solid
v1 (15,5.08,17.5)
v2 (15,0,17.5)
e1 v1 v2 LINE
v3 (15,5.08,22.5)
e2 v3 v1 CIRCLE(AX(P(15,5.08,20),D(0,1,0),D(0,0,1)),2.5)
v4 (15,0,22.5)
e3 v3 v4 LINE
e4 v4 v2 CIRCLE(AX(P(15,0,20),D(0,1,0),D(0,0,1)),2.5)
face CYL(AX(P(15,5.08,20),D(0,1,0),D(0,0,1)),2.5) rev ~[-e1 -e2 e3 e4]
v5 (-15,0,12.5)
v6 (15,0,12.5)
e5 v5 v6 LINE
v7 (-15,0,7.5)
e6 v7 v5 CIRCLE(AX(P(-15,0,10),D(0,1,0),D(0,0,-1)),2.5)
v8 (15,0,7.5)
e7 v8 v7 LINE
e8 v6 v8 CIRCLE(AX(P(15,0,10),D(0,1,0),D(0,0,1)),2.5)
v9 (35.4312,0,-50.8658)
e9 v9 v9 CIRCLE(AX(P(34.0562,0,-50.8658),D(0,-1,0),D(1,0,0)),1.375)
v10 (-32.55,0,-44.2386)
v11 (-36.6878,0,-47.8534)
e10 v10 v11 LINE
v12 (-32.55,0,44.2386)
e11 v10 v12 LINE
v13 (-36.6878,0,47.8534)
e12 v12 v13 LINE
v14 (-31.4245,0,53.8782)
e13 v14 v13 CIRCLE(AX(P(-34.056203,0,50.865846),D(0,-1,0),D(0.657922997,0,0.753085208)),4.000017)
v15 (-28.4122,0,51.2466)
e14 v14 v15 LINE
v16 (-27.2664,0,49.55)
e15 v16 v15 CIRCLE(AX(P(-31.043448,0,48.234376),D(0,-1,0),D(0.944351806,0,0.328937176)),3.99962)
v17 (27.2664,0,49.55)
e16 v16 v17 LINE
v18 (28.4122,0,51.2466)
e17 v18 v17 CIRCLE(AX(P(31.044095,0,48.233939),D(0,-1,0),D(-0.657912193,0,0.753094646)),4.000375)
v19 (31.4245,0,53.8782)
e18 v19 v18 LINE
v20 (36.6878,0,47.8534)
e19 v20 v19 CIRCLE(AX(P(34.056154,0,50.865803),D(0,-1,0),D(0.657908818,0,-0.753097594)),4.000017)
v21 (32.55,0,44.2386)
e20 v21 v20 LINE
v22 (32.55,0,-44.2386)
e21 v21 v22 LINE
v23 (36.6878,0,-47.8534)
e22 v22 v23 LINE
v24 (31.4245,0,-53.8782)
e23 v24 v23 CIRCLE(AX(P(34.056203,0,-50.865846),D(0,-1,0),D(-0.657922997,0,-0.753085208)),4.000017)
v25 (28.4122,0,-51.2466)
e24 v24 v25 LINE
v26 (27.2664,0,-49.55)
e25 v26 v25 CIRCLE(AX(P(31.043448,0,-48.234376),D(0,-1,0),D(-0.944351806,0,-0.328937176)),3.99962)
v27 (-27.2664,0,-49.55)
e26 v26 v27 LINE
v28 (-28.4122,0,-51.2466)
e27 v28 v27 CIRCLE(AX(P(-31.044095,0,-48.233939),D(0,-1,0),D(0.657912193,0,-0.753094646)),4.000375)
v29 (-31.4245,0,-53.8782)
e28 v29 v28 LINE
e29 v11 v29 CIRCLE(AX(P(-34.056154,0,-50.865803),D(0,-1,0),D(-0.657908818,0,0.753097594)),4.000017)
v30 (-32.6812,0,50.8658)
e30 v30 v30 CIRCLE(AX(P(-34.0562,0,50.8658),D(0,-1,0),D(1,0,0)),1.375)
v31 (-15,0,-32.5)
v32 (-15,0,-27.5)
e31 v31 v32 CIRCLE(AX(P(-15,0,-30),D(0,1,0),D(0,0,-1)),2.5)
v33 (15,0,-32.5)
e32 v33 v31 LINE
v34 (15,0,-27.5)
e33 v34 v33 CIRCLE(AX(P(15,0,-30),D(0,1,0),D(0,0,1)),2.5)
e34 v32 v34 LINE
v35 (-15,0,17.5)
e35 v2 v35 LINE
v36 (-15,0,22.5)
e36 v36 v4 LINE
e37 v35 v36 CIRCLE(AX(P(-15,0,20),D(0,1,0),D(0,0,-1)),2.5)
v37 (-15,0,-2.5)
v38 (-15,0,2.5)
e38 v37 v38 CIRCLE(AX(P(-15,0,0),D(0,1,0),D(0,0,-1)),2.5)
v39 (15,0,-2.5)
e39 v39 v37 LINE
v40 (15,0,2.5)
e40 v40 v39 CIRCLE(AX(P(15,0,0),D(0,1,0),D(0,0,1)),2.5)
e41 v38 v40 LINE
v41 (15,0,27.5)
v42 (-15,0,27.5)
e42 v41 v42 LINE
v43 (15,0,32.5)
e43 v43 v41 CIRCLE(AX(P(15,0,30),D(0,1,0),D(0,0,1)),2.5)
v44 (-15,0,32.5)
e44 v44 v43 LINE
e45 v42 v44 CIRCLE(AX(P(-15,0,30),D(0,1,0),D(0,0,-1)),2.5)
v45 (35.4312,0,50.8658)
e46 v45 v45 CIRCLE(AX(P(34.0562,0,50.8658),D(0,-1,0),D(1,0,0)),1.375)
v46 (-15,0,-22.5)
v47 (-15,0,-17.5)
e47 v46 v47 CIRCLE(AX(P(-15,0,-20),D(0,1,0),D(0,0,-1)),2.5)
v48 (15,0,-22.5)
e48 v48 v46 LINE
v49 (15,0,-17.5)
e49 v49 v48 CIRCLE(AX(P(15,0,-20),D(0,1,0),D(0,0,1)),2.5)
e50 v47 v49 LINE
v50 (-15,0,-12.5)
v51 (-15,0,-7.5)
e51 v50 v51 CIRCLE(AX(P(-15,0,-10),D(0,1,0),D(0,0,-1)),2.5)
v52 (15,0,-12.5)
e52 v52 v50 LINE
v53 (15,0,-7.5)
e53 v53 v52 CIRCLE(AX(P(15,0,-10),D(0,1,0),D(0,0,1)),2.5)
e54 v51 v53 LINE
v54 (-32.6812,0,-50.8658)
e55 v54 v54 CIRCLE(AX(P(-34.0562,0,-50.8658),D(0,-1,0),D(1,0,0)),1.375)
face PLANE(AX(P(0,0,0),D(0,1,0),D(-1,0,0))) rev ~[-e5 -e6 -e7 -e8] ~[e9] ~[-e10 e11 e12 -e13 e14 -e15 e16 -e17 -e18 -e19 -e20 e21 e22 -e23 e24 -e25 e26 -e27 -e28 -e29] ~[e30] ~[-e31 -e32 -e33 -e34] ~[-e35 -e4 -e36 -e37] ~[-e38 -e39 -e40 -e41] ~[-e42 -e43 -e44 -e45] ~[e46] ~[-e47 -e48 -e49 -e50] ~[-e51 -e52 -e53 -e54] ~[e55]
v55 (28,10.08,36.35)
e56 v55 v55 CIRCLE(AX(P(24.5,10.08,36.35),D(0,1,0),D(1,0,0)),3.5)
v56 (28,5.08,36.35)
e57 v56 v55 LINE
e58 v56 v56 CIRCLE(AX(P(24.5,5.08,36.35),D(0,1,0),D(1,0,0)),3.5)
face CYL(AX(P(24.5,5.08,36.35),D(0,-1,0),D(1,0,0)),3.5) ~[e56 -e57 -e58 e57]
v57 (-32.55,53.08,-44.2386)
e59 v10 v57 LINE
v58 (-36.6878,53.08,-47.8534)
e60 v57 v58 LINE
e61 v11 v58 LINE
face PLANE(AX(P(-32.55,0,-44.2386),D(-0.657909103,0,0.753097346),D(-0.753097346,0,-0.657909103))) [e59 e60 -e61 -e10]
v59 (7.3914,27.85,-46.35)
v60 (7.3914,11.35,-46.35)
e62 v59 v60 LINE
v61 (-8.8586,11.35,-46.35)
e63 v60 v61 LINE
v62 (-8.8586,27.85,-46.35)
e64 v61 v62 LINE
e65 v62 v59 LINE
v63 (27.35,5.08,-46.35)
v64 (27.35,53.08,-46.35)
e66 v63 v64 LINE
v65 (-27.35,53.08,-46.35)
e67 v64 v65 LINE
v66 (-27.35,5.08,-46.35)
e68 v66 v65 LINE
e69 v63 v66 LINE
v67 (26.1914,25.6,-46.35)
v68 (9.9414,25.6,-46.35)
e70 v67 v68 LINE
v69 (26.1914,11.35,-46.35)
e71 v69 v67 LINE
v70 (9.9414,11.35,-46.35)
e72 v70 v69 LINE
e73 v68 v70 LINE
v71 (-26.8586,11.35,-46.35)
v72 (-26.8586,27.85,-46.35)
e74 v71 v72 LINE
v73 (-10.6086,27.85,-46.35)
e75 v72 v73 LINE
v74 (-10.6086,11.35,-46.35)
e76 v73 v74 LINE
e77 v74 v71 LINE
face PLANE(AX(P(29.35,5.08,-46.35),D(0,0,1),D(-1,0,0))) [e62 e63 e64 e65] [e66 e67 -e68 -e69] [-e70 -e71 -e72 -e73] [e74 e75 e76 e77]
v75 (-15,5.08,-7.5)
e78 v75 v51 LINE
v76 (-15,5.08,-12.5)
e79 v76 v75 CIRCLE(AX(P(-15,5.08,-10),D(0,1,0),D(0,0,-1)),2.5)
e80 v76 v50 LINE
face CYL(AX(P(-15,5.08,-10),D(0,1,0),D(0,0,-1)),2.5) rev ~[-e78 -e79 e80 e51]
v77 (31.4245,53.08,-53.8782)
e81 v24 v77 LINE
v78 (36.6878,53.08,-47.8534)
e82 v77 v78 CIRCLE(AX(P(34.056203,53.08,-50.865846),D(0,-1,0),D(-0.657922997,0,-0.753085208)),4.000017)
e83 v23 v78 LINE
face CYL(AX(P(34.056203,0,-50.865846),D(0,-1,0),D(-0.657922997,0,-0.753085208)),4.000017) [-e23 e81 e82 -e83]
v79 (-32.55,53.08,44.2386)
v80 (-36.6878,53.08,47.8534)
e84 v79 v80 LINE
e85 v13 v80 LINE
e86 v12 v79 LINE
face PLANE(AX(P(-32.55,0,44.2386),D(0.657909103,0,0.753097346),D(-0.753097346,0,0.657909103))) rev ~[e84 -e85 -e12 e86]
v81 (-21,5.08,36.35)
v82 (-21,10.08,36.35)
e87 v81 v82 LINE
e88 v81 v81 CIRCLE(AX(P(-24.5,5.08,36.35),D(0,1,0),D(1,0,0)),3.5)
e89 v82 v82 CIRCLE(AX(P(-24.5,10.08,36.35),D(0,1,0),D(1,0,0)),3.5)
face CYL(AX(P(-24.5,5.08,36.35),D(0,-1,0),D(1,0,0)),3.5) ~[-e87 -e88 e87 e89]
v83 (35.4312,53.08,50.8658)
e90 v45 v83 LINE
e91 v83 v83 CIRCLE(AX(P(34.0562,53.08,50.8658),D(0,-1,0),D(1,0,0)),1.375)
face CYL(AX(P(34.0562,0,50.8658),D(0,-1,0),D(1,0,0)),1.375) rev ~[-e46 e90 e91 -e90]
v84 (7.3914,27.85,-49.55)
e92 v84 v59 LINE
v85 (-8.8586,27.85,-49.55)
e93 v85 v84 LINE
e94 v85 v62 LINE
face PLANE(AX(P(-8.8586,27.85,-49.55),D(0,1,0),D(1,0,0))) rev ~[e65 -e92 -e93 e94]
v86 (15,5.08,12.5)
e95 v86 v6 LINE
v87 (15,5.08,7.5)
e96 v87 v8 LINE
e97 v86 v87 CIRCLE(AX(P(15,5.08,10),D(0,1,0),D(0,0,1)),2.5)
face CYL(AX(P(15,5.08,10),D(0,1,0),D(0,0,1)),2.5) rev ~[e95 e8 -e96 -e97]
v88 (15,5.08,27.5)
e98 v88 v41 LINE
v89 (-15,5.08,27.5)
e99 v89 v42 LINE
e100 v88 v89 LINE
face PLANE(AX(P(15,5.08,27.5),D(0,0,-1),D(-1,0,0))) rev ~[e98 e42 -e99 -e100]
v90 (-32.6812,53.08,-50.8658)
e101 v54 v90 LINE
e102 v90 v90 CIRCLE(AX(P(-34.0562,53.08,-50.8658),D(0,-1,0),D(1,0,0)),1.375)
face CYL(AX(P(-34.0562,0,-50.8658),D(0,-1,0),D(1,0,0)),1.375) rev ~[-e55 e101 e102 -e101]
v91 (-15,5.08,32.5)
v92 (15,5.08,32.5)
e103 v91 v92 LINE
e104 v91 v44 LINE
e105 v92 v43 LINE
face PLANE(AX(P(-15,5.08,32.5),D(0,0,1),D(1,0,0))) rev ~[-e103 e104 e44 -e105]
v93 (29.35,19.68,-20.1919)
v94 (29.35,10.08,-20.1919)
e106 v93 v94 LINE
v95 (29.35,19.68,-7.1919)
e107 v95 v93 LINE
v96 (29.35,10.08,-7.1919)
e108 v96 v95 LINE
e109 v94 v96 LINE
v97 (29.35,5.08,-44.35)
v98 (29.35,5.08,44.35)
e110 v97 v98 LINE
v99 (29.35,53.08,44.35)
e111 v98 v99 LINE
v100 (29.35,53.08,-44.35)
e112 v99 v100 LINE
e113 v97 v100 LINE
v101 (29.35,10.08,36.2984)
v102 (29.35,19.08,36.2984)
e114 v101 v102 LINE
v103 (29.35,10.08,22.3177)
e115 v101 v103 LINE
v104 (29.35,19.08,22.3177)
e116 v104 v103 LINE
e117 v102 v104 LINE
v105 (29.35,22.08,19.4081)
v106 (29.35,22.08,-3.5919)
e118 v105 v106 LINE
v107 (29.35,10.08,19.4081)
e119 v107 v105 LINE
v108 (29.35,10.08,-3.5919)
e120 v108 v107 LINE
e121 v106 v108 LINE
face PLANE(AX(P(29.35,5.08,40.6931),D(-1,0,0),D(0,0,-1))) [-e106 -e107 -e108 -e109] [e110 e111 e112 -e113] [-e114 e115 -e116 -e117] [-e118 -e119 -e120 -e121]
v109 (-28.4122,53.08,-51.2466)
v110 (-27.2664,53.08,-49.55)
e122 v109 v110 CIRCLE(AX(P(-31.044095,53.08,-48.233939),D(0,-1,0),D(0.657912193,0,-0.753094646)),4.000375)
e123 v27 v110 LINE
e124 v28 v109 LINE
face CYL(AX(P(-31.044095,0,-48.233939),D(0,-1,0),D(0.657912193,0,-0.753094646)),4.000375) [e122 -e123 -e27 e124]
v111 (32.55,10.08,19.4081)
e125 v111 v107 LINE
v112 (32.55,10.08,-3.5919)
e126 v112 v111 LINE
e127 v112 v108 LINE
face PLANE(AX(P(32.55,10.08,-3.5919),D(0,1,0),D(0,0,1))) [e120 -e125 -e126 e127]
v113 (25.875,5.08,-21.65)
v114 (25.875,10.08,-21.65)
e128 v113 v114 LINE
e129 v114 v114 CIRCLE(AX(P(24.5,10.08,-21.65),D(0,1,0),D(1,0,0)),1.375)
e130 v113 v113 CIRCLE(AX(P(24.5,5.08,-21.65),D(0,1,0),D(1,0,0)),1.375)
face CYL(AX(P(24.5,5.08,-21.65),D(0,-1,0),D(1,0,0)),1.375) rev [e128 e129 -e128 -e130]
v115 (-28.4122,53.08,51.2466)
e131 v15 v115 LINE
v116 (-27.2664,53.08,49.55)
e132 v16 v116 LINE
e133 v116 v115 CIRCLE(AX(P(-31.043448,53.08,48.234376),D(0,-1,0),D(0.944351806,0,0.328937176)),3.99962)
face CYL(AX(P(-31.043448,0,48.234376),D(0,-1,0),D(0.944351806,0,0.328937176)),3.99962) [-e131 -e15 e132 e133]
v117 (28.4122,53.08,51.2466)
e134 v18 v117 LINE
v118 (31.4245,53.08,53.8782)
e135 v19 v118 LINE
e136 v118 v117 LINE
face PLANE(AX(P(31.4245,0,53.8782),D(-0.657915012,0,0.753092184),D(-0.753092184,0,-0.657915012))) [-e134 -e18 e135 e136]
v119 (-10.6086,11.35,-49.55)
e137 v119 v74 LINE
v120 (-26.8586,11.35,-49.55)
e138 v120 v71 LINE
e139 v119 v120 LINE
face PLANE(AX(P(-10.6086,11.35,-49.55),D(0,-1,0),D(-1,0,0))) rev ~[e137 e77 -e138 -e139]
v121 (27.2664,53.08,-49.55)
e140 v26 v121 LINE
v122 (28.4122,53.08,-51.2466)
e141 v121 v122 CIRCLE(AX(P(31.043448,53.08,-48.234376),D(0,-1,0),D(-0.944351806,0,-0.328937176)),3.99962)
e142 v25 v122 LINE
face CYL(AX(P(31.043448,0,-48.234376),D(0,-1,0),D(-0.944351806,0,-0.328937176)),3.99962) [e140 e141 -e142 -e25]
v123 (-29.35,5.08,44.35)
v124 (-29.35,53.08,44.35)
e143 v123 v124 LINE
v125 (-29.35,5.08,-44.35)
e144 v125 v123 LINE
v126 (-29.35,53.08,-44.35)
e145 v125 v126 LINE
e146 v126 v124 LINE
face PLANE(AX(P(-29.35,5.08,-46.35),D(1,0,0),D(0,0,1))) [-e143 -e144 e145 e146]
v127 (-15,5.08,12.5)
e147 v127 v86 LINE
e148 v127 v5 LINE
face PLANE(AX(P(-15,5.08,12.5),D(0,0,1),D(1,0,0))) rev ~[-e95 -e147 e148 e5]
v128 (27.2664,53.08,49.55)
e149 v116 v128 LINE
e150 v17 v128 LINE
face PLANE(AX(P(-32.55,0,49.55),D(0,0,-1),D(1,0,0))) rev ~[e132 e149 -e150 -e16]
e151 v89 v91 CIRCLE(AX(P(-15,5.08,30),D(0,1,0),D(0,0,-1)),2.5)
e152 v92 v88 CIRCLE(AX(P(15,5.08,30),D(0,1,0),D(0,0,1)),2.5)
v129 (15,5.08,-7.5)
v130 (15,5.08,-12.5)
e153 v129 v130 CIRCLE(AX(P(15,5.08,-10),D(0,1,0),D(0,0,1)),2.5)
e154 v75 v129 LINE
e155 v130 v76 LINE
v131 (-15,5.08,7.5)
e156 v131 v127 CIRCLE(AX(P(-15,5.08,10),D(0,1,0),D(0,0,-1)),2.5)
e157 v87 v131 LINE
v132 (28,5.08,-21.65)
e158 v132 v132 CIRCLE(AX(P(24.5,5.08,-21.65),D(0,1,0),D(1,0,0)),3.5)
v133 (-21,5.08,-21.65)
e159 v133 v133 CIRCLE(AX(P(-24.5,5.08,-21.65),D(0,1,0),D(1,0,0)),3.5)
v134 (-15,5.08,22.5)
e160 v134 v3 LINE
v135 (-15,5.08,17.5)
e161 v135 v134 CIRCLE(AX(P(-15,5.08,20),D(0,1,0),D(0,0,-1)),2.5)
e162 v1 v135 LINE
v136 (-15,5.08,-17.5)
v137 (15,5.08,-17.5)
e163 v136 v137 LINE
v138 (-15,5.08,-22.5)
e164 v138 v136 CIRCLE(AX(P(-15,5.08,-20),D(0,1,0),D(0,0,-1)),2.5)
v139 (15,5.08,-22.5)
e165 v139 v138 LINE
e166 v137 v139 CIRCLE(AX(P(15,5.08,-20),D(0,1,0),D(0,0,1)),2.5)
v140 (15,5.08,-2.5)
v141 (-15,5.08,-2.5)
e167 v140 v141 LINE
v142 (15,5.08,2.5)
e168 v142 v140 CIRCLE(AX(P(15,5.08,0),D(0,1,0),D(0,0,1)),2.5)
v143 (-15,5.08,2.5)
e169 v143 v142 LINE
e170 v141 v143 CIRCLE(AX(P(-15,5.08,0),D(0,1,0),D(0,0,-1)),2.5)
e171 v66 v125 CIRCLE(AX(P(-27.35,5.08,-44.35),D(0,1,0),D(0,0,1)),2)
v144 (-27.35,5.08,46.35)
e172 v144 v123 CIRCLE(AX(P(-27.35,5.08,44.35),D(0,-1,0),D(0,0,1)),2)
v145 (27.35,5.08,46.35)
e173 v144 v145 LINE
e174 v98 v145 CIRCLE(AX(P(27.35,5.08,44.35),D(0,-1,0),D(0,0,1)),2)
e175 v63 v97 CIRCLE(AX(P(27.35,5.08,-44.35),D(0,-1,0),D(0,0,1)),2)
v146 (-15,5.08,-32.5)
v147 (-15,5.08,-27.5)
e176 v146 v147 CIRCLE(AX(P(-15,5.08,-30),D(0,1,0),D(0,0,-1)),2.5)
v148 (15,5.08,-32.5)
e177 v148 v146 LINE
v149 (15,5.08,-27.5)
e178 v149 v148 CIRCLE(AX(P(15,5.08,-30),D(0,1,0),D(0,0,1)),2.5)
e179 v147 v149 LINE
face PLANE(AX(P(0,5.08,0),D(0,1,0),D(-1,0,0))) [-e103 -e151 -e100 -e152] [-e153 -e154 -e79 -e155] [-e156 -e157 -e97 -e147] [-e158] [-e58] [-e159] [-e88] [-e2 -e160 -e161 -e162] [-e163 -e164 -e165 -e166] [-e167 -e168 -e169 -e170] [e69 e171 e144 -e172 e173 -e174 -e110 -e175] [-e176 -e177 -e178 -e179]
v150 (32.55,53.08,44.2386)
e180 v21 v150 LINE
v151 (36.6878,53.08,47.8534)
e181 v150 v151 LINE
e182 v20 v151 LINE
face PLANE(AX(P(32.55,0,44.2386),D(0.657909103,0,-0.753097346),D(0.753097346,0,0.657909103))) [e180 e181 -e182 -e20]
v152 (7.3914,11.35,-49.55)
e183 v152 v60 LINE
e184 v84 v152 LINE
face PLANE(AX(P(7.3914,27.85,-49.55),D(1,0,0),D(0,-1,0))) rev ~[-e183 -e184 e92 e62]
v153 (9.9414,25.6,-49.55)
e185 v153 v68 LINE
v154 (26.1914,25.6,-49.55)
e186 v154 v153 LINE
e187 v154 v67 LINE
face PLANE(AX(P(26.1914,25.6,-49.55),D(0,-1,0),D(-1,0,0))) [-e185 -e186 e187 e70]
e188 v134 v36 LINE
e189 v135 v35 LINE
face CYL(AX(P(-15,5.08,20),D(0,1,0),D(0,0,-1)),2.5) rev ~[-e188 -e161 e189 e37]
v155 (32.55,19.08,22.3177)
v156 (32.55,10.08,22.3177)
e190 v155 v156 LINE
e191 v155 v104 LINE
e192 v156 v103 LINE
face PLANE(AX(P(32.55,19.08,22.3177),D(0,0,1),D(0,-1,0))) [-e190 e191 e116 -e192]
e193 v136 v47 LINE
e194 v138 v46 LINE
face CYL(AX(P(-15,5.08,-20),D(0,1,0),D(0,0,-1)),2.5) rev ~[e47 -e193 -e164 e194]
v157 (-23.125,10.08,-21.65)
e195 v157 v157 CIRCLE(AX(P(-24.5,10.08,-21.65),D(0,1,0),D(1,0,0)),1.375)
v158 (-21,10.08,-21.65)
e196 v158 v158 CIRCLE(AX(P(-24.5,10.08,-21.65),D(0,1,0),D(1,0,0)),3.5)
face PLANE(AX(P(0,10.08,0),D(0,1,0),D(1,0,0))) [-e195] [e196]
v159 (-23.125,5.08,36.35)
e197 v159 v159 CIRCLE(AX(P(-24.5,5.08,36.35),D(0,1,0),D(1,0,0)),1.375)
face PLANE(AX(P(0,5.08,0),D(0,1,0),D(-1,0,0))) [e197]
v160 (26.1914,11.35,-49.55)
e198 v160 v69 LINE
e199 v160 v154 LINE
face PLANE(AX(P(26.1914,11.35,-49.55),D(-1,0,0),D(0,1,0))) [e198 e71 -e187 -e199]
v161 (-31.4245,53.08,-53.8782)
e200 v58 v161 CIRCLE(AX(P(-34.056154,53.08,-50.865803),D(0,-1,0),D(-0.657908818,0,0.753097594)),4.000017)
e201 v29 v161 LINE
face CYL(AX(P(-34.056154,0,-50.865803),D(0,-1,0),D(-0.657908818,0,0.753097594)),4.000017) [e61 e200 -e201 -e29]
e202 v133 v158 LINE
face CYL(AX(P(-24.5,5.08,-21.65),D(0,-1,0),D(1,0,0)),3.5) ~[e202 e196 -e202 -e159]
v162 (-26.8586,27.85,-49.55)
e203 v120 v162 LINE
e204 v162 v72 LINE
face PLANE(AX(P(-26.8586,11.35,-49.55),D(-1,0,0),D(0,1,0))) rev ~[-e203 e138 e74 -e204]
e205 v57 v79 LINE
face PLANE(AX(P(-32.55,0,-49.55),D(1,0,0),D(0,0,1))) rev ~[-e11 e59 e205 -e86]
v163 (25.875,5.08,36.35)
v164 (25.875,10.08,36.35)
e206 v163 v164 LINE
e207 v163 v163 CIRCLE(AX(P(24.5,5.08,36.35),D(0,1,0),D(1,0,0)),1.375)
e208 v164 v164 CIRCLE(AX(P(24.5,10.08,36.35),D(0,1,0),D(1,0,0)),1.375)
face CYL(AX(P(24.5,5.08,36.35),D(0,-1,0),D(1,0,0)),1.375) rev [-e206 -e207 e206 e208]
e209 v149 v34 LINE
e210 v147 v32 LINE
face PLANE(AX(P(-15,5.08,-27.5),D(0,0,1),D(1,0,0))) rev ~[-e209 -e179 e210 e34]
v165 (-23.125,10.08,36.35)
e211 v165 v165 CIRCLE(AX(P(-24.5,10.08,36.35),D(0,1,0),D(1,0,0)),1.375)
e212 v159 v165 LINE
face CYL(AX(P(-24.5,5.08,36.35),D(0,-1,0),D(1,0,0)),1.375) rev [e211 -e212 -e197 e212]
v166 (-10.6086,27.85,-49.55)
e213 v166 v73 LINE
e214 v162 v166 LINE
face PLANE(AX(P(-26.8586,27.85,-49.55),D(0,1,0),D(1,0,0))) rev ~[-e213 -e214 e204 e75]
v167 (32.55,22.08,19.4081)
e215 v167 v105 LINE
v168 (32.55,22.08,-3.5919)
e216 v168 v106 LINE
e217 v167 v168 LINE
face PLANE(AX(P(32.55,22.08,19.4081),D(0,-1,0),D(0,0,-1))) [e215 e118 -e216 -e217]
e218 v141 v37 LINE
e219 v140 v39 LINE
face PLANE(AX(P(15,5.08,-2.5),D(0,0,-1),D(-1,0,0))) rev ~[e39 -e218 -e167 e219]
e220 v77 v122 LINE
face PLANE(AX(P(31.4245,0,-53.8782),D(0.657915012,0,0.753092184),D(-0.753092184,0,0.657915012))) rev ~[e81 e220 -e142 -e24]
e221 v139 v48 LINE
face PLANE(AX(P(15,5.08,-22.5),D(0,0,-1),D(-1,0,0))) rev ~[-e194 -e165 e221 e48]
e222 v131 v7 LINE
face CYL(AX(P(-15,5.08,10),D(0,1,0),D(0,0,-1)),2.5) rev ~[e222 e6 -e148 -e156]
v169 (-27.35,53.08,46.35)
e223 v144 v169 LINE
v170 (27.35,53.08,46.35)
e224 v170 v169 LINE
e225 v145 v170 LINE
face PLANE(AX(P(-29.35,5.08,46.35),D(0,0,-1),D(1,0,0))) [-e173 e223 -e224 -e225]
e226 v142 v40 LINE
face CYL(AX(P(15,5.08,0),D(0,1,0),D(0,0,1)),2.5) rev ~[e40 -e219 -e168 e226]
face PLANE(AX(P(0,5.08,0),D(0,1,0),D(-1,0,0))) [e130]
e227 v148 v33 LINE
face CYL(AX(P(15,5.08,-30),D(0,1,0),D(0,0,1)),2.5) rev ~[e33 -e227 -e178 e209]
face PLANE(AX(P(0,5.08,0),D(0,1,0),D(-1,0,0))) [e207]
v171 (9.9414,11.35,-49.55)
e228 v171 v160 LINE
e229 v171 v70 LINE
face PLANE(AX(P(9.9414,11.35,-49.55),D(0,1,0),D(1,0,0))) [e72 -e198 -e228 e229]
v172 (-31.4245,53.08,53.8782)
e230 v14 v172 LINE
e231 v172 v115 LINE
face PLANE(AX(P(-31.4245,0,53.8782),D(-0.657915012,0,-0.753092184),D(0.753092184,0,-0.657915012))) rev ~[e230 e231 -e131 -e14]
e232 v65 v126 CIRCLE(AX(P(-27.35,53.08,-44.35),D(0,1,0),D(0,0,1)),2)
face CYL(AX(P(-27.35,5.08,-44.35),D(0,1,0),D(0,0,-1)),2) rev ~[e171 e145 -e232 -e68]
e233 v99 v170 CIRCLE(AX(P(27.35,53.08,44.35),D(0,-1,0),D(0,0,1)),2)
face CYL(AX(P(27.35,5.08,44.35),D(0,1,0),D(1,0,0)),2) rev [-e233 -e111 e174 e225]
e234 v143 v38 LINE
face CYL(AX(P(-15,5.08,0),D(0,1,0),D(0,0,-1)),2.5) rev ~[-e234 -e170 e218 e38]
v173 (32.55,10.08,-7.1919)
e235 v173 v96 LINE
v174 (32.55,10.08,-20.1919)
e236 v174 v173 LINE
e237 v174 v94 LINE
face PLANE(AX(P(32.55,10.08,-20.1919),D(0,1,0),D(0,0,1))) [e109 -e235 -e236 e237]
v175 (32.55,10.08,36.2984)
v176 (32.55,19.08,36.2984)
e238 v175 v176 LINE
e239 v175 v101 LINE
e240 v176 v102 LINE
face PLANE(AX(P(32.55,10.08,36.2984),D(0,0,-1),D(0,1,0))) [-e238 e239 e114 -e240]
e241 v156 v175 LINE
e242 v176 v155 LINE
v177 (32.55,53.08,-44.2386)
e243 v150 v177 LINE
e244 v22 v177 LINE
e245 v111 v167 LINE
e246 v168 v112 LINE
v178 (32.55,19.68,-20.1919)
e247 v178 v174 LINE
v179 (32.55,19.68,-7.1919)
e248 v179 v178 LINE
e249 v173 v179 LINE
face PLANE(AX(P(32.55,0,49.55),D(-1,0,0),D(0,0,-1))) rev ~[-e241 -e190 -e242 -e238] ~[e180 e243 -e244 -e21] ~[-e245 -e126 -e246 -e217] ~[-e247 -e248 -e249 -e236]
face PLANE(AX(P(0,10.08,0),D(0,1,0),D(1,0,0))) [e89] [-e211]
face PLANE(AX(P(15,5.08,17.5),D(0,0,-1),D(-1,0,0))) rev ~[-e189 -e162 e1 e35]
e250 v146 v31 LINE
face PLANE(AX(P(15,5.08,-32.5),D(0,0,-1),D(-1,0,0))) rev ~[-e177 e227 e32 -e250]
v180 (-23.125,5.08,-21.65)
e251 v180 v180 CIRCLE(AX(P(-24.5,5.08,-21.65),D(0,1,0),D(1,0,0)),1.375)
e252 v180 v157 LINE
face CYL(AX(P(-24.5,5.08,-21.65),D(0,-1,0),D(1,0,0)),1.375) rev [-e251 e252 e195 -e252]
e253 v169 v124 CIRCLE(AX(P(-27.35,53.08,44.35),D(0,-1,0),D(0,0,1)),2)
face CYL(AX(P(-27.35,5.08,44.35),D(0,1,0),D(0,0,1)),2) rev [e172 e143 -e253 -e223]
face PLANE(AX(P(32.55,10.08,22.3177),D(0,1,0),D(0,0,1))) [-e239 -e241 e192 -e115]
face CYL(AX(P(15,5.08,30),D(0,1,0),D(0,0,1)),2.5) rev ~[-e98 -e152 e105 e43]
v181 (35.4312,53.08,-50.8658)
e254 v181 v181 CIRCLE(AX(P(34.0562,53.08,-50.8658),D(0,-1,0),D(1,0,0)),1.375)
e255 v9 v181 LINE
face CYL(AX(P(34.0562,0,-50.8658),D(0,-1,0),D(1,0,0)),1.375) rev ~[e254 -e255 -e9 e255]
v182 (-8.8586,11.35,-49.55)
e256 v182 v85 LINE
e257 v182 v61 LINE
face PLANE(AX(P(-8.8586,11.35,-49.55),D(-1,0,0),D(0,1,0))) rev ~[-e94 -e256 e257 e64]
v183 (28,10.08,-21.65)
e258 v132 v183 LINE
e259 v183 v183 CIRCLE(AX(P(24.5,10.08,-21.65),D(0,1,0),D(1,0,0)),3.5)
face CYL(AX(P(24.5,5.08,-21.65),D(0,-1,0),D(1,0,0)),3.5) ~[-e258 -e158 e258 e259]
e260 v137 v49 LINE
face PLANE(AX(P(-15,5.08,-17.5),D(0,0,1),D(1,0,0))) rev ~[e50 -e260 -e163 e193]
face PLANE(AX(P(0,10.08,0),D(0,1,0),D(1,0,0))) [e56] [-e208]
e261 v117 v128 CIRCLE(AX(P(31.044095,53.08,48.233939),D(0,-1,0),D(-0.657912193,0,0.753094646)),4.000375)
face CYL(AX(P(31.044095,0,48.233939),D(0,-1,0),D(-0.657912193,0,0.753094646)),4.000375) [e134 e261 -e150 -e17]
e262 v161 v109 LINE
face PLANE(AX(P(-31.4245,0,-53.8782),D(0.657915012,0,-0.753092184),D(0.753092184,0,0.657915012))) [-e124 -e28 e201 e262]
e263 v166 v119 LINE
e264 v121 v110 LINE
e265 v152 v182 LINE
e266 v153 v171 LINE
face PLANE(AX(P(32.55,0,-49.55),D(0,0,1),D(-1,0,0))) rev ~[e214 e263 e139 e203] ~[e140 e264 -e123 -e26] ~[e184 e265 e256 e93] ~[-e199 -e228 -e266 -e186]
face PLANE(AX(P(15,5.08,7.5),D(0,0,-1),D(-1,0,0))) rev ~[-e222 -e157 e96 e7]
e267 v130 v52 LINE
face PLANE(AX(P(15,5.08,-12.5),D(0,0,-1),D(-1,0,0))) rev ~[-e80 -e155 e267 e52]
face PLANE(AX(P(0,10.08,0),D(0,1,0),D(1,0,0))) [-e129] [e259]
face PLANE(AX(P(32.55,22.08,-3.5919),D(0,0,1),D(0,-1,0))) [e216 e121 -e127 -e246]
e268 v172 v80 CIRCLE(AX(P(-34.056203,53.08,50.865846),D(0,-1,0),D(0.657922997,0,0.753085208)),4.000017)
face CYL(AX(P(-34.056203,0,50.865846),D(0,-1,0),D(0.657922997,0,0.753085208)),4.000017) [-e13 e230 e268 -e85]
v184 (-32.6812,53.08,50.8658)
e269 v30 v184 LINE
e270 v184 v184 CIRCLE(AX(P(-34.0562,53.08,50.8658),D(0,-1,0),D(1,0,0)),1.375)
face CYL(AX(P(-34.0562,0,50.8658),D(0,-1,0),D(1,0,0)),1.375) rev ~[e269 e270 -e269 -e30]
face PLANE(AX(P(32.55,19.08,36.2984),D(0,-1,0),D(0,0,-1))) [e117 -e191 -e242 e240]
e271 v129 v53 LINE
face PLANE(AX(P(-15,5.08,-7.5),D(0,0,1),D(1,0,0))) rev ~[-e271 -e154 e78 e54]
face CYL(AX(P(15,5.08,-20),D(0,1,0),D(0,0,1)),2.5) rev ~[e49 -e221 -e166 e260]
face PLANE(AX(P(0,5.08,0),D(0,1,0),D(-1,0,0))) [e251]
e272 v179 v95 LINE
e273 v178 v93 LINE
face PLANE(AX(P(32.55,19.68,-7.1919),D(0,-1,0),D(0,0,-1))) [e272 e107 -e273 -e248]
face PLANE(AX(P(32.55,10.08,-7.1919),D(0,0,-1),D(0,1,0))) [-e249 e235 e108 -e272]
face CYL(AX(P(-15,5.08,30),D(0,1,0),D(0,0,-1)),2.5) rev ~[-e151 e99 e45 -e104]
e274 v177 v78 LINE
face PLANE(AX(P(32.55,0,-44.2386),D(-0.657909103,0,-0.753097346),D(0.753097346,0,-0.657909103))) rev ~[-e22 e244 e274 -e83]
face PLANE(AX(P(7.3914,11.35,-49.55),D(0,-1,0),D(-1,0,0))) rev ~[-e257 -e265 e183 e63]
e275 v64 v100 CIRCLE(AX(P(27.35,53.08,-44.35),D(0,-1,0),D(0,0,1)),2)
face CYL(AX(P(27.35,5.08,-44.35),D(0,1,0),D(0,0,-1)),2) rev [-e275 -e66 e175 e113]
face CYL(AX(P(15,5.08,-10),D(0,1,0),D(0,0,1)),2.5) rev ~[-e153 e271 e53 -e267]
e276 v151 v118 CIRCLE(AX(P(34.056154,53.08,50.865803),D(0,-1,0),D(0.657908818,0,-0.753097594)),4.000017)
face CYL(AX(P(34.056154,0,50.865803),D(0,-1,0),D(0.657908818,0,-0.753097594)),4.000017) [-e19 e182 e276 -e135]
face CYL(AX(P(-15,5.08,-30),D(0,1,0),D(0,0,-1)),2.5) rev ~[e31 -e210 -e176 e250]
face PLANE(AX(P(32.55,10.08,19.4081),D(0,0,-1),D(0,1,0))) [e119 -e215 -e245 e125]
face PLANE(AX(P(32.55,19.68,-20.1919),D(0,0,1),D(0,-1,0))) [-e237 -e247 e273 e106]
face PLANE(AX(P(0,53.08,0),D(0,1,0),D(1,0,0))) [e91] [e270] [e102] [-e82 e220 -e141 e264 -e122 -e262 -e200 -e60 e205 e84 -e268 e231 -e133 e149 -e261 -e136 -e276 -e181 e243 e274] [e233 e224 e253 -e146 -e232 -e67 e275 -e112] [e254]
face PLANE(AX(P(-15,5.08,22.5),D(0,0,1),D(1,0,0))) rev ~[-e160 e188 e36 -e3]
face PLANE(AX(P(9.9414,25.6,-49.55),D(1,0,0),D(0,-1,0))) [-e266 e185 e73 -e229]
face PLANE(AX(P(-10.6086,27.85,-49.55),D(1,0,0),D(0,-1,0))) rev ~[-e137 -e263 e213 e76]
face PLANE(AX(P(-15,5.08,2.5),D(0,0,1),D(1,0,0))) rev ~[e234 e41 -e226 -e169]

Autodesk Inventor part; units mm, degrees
ref_plane "YZ Plane" through (0, 0, 0) normal (1, 0, 0) x (0, 1, 0)
ref_plane "XZ Plane" through (0, 0, 0) normal (0, 1, 0) x (-1, 0, 0)
ref_plane "XY Plane" through (0, 0, 0) normal (0, 0, 1) x (1, 0, 0)
sketch "Sketch1" plane through (0, 0, 0) normal (0, 1, 0) x (-1, 0, 0)
  line L0 (-32.55, -49.55) -> (32.55, -49.55)
  line L1 (32.55, -49.55) -> (32.55, 49.55)
  line L2 (32.55, 49.55) -> (-32.55, 49.55)
  line L3 (-32.55, 49.55) -> (-32.55, -49.55)
  line L4 (-32.55, -49.55) -> (32.55, 49.55) construction
  line L5 (32.55, -49.55) -> (-32.55, 49.55) construction
  point P0 (0, 0)
  dimension "d0" = 65.1
  dimension "d1" = 99.1
extrude "Extrusion1" add sketch "Sketch1" along normal blind 5.08
sketch "Sketch2" plane through (0, 5.08, 0) normal (0, 1, 0) x (1, 0, 0)
  line L0 (29.35, 46.35) -> (-29.35, 46.35)
  line L1 (-29.35, 46.35) -> (-29.35, -46.35)
  line L2 (-29.35, -46.35) -> (29.35, -46.35)
  line L3 (29.35, -46.35) -> (29.35, 46.35)
  line L4 (29.35, 46.35) -> (-29.35, -46.35) construction
  line L5 (-29.35, 46.35) -> (29.35, -46.35) construction
  line L6 (-32.55, 49.55) -> (-32.55, -49.55) projected
  line L7 (-32.55, -49.55) -> (32.55, -49.55) projected
  line L8 (32.55, 49.55) -> (-32.55, 49.55) projected
  line L9 (32.55, -49.55) -> (32.55, 49.55) projected
  line L10 (26.15, -43.15) -> (32.55, -49.55) construction
  line L11 (23.6931, -46.35) -> (29.7216, -52.3784)
  line L12 (35.3784, -46.7216) -> (29.35, -40.6931)
  arc A0 (29.7216, -52.3784) -> (35.3784, -46.7216) centre (32.55, -49.55) ccw
  circle A1 centre (32.55, -49.55) radius 1.375
  point P0 (0, 0)
  dimension "d4" = 3.2
  dimension "d5" = 3.2
  dimension "d22" = 8
  dimension "d23" = 2.75
extrude "Extrusion2" add sketch "Sketch2" along normal blind 48 contours L0 L1 L2 L11 L7 L6 L8 L9 L12 L3 | L12 L9 A1 L7 L11 L2 L3 | L9 L7 A1 picked at (32.448, -48.6448)
sketch "Sketch3" plane through (0, 5.08, 0) normal (0, 1, 0) x (1, 0, 0)
  line L0 (29.35, -46.35) -> (-29.35, -46.35) construction
  line L1 (0, -46.35) -> (0, 46.35) construction
  line L2 (29.35, 46.35) -> (-29.35, 46.35) construction
  circle A0 centre (-24.5, -36.35) radius 3.5
  circle A1 centre (-24.5, -36.35) radius 1.375
  line L3 (29.35, 46.35) -> (29.35, -46.35) construction
  line L4 (29.35, 0) -> (-29.35, 0) construction
  line L5 (-29.35, -46.35) -> (-29.35, 46.35) construction
  circle A2 centre (-24.5, 21.65) radius 3.5
  circle A3 centre (-24.5, 21.65) radius 1.375
  circle A4 centre (24.5, -36.35) radius 3.5
  circle A5 centre (24.5, -36.35) radius 1.375
  circle A6 centre (24.5, 21.65) radius 3.5
  circle A7 centre (24.5, 21.65) radius 1.375
  point P0 (0, 0)
  dimension "d8" = 7
  dimension "d9" = 2.75
  dimension "d10" = 10
  dimension "d11" = 24.5
  dimension "d14" = 58
extrude "Extrusion3" add sketch "Sketch3" along normal blind 5
sketch "Sketch4" plane through (0, 0, 0) normal (0, -1, 0) x (1, 0, 0)
  line L0 (31.0438, 48.2342) -> (34.0562, 50.8658) construction
  line L1 (32.55, 49.55) -> (32.55, -49.55) projected
  line L2 (32.55, 44.2386) -> (36.6878, 47.8534)
  line L3 (31.4245, 53.8782) -> (28.4122, 51.2466)
  arc A0 (28.4122, 51.2466) -> (27.2664, 49.55) centre (31.0438, 48.2342) ccw
  arc A1 (36.6878, 47.8534) -> (31.4245, 53.8782) centre (34.0562, 50.8658) ccw
  line L4 (-32.55, 49.55) -> (32.55, 49.55) projected
  line L5 (27.2664, 49.55) -> (32.55, 49.55)
  line L6 (32.55, 49.55) -> (32.55, 44.2386)
  circle A2 centre (34.0562, 50.8658) radius 1.375
  line L7 (0, 49.55) -> (0, -49.55) construction
  line L8 (32.55, -49.55) -> (-32.55, -49.55) construction
  line L9 (32.55, 0) -> (-33.3, 0) construction
  line L10 (32.55, -49.55) -> (32.55, 49.55)
  line L11 (32.55, -44.2386) -> (36.6878, -47.8534)
  line L12 (31.4245, -53.8782) -> (28.4122, -51.2466)
  arc A3 (27.2664, -49.55) -> (28.4122, -51.2466) centre (31.0438, -48.2342) ccw
  arc A4 (31.4245, -53.8782) -> (36.6878, -47.8534) centre (34.0562, -50.8658) ccw
  line L13 (-32.55, -49.55) -> (32.55, -49.55)
  circle A5 centre (34.0562, -50.8658) radius 1.375
  line L14 (-32.55, 49.55) -> (-32.55, -49.55)
  line L15 (-32.55, 44.2386) -> (-36.6878, 47.8534)
  line L16 (-31.4245, 53.8782) -> (-28.4122, 51.2466)
  arc A6 (-27.2664, 49.55) -> (-28.4122, 51.2466) centre (-31.0438, 48.2342) ccw
  arc A7 (-31.4245, 53.8782) -> (-36.6878, 47.8534) centre (-34.0562, 50.8658) ccw
  line L17 (-27.2664, 49.55) -> (-32.55, 49.55)
  circle A8 centre (-34.0562, 50.8658) radius 1.375
  arc A9 (-36.6878, -47.8534) -> (-31.4245, -53.8782) centre (-34.0562, -50.8658) ccw
  line L18 (-32.55, -44.2386) -> (-36.6878, -47.8534)
  line L19 (-31.4245, -53.8782) -> (-28.4122, -51.2466)
  arc A10 (-28.4122, -51.2466) -> (-27.2664, -49.55) centre (-31.0438, -48.2342) ccw
  circle A11 centre (-34.0562, -50.8658) radius 1.375
  line L20 (-27.2664, -49.55) -> (-32.55, -49.55)
  line L21 (-32.55, -49.55) -> (-32.55, 49.55)
  point P0 (0, 0)
  point P1 (-32.55, -44.2386)
  point P2 (-27.2664, 49.55)
  point P3 (32.55, -49.55)
  dimension "d24" = 2
  dimension "d25" = 8
  dimension "d26" = 131.141
  dimension "d27" = 2.75
extrude "Extrusion4" add sketch "Sketch4" against normal up to surface (53.08 mm away) contours L4 A0 L3 A1 L2 L1 | L11 A4 L12 A3 L13 L1 | L4 L14 L15 A7 L16 A6 | A10 L19 A9 L18 L14 L13
fillet "Fillet2" radius 2 4 edges at (29.35, 29.08, -46.35) (-29.35, 29.08, -46.35) (-29.35, 29.08, 46.35) (29.35, 29.08, 46.35)
sketch "Sketch5" plane through (0, 5.08, 0) normal (0, 1, 0) x (1, 0, 0)
  line L0 (15, 0) -> (-15, 0) construction
  line L1 (15, 2.5) -> (-15, 2.5)
  line L2 (-15, -2.5) -> (15, -2.5)
  arc A0 (15, -2.5) -> (15, 2.5) centre (15, 0) ccw
  arc A1 (-15, 2.5) -> (-15, -2.5) centre (-15, 0) ccw
  line L3 (-27.35, -46.35) -> (27.35, -46.35) construction
  line L4 (0, -46.35) -> (0, 46.35) construction
  line L5 (-27.35, 46.35) -> (27.35, 46.35) construction
  arc A2 (-15, 12.5) -> (-15, 7.5) centre (-15, 10) ccw
  line L6 (15, 12.5) -> (-15, 12.5)
  line L7 (-15, 7.5) -> (15, 7.5)
  arc A3 (15, 7.5) -> (15, 12.5) centre (15, 10) ccw
  arc A4 (-15, 22.5) -> (-15, 17.5) centre (-15, 20) ccw
  line L8 (15, 22.5) -> (-15, 22.5)
  line L9 (-15, 17.5) -> (15, 17.5)
  arc A5 (15, 17.5) -> (15, 22.5) centre (15, 20) ccw
  arc A6 (-15, 32.5) -> (-15, 27.5) centre (-15, 30) ccw
  line L10 (15, 32.5) -> (-15, 32.5)
  line L11 (-15, 27.5) -> (15, 27.5)
  arc A7 (15, 27.5) -> (15, 32.5) centre (15, 30) ccw
  arc A8 (-15, -7.5) -> (-15, -12.5) centre (-15, -10) ccw
  line L12 (-15, -12.5) -> (15, -12.5)
  line L13 (15, -7.5) -> (-15, -7.5)
  arc A9 (15, -12.5) -> (15, -7.5) centre (15, -10) ccw
  arc A10 (-15, -17.5) -> (-15, -22.5) centre (-15, -20) ccw
  line L14 (-15, -22.5) -> (15, -22.5)
  line L15 (15, -17.5) -> (-15, -17.5)
  arc A11 (15, -22.5) -> (15, -17.5) centre (15, -20) ccw
  arc A12 (-15, -27.5) -> (-15, -32.5) centre (-15, -30) ccw
  line L16 (-15, -32.5) -> (15, -32.5)
  line L17 (15, -27.5) -> (-15, -27.5)
  arc A13 (15, -32.5) -> (15, -27.5) centre (15, -30) ccw
  point P0 (0, 0)
  dimension "d31" = 15
  dimension "d32" = 5
  dimension "d35" = 10
  dimension "d42" = 10
extrude "Extrusion5" cut sketch "Sketch5" against normal up to surface (5.08 mm away)
sketch "Sketch9" plane through (27.2664, 0, -49.55) normal (0, 0, -1) x (-1, 0, 0)
  line L0 (6.2664, 10.08) -> (-0.7336, 10.08) projected
  line L1 (1.3914, 10.08) -> (4.1414, 10.08) projected
  line L2 (1.3914, 10.08) -> (4.1414, 10.08) construction
  line L3 (2.7664, 10.08) -> (-0.7336, 10.08) construction
  line L4 (6.2664, 10.08) -> (-0.7336, 10.08) projected
  line L5 (0, 53.08) -> (0, 0) projected
  line L6 (-0.7336, 10.08) -> (0, 13.5023) construction
  line L7 (17.325, 11.35) -> (1.075, 11.35)
  line L8 (1.075, 11.35) -> (1.075, 25.6)
  line L9 (1.075, 25.6) -> (17.325, 25.6)
  line L10 (17.325, 25.6) -> (17.325, 11.35)
  line L11 (9.2, 25.6) -> (9.2, 11.35) construction
  line L12 (19.875, 11.35) -> (36.125, 11.35)
  line L13 (36.125, 11.35) -> (36.125, 27.85)
  line L14 (36.125, 27.85) -> (19.875, 27.85)
  line L15 (19.875, 27.85) -> (19.875, 11.35)
  line L16 (28, 27.85) -> (28, 11.35) construction
  line L17 (54.125, 27.85) -> (37.875, 27.85)
  line L18 (54.125, 11.35) -> (54.125, 27.85)
  line L19 (37.875, 11.35) -> (54.125, 11.35)
  line L20 (37.875, 27.85) -> (37.875, 11.35)
  point P0 (27.2664, 0)
  point P1 (46, 27.85)
  point P2 (46, 11.35)
  dimension "d58" = 3.5
  dimension "d60" = 3.5
  dimension "d63" = 16.25
  dimension "d64" = 14.25
  dimension "d65" = 1.27
  dimension "d66" = 9.2
  dimension "d69" = 16.25
  dimension "d70" = 16.5
  dimension "d71" = 1.27
  dimension "d72" = 28
  dimension "d75" = 18
extrude "Extrusion7" cut sketch "Sketch9" against normal up to surface (3.2 mm away)
sketch "Sketch12" plane through (32.55, 0, 44.2386) normal (1, 0, 0) x (0, 0, -1)
  line L0 (0, 53.08) -> (0, 0) projected
  line L1 (28.8305, 16.69) -> (28.8305, 14.2116) projected
  line L2 (43.8305, 14.2116) -> (43.8305, 16.69) projected
  line L3 (10.9402, 12.8971) -> (10.9402, 13.09) projected
  line L4 (18.9209, 13.09) -> (18.9209, 12.8971) projected
  line L5 (54.4305, 17.41) -> (54.4305, 11.41) projected
  line L6 (61.4305, 11.41) -> (61.4305, 17.41) projected
  line L7 (11.9305, 14.1354) -> (17.9305, 14.1354) projected
  line L8 (21.7386, 5.08) -> (26.7386, 5.08) projected
  line L9 (26.7386, 5.08) -> (21.7386, 5.08) projected
  line L10 (41.7386, 5.08) -> (46.7386, 5.08) projected
  line L11 (46.7386, 5.08) -> (41.7386, 5.08) projected
  line L12 (51.7386, 5.08) -> (56.7386, 5.08) projected
  line L13 (56.7386, 5.08) -> (51.7386, 5.08) projected
  line L14 (61.7386, 5.08) -> (66.7386, 5.08) projected
  line L15 (66.7386, 5.08) -> (61.7386, 5.08) projected
  line L16 (11.7386, 5.08) -> (16.7386, 5.08) projected
  line L17 (16.7386, 5.08) -> (11.7386, 5.08) projected
  line L18 (31.7386, 5.08) -> (36.7386, 5.08) projected
  line L19 (36.7386, 5.08) -> (31.7386, 5.08) projected
  line L20 (71.7386, 5.08) -> (76.7386, 5.08) projected
  line L21 (76.7386, 5.08) -> (71.7386, 5.08) projected
  line L22 (4.3886, 5.08) -> (11.3886, 5.08) projected
  line L23 (4.3886, 5.08) -> (11.3886, 5.08) projected
  line L24 (62.3886, 5.08) -> (69.3886, 5.08) projected
  line L25 (62.3886, 5.08) -> (69.3886, 5.08) projected
  line L26 (-2.1114, 5.08) -> (-0.1114, 5.08) projected
  line L27 (-0.1114, 5.08) -> (88.5886, 5.08) projected
  line L28 (88.5886, 5.08) -> (90.5886, 5.08) projected
  line L29 (90.5886, 5.08) -> (88.5886, 5.08) projected
  line L30 (88.5886, 5.08) -> (-0.1114, 5.08) projected
  line L31 (-0.1114, 5.08) -> (-2.1114, 5.08) projected
  line L32 (6.5136, 10.08) -> (9.2636, 10.08) projected
  line L33 (10.9402, 12.9936) -> (18.9209, 12.9936) construction
  line L34 (14.9305, 14.1354) -> (14.9305, 12.9936) construction
  line L35 (7.9402, 19.08) -> (21.9209, 19.08)
  line L36 (21.9209, 19.08) -> (21.9209, 10.08)
  line L37 (21.9209, 10.08) -> (7.9402, 10.08)
  line L38 (7.9402, 10.08) -> (7.9402, 19.08)
  line L39 (43.0305, 17.49) -> (29.6305, 17.49) projected
  line L40 (47.8305, 10.08) -> (24.8305, 10.08)
  line L41 (24.8305, 10.08) -> (24.8305, 22.08)
  line L42 (24.8305, 22.08) -> (47.8305, 22.08)
  line L43 (47.8305, 22.08) -> (47.8305, 10.08)
  line L44 (61.4305, 17.41) -> (57.9305, 17.41) projected
  line L45 (64.4305, 10.08) -> (51.4305, 10.08)
  line L46 (51.4305, 10.08) -> (51.4305, 19.68)
  line L47 (51.4305, 19.68) -> (64.4305, 19.68)
  line L48 (64.4305, 19.68) -> (64.4305, 10.08)
  point P0 (44.2386, 0)
  dimension "d99" = 3
  dimension "d100" = 3
  dimension "d101" = 0
  dimension "d102" = 9
  dimension "d103" = 4
  dimension "d104" = 4
  dimension "d105" = 0
  dimension "d106" = 12
  dimension "d108" = 3
  dimension "d109" = 3
  dimension "d110" = 0
  dimension "d111" = 9.6
extrude "Extrusion9" cut sketch "Sketch12" against normal up to surface (3.2 mm away)
properties part number "Case RevC" material "ABS Plastic"
